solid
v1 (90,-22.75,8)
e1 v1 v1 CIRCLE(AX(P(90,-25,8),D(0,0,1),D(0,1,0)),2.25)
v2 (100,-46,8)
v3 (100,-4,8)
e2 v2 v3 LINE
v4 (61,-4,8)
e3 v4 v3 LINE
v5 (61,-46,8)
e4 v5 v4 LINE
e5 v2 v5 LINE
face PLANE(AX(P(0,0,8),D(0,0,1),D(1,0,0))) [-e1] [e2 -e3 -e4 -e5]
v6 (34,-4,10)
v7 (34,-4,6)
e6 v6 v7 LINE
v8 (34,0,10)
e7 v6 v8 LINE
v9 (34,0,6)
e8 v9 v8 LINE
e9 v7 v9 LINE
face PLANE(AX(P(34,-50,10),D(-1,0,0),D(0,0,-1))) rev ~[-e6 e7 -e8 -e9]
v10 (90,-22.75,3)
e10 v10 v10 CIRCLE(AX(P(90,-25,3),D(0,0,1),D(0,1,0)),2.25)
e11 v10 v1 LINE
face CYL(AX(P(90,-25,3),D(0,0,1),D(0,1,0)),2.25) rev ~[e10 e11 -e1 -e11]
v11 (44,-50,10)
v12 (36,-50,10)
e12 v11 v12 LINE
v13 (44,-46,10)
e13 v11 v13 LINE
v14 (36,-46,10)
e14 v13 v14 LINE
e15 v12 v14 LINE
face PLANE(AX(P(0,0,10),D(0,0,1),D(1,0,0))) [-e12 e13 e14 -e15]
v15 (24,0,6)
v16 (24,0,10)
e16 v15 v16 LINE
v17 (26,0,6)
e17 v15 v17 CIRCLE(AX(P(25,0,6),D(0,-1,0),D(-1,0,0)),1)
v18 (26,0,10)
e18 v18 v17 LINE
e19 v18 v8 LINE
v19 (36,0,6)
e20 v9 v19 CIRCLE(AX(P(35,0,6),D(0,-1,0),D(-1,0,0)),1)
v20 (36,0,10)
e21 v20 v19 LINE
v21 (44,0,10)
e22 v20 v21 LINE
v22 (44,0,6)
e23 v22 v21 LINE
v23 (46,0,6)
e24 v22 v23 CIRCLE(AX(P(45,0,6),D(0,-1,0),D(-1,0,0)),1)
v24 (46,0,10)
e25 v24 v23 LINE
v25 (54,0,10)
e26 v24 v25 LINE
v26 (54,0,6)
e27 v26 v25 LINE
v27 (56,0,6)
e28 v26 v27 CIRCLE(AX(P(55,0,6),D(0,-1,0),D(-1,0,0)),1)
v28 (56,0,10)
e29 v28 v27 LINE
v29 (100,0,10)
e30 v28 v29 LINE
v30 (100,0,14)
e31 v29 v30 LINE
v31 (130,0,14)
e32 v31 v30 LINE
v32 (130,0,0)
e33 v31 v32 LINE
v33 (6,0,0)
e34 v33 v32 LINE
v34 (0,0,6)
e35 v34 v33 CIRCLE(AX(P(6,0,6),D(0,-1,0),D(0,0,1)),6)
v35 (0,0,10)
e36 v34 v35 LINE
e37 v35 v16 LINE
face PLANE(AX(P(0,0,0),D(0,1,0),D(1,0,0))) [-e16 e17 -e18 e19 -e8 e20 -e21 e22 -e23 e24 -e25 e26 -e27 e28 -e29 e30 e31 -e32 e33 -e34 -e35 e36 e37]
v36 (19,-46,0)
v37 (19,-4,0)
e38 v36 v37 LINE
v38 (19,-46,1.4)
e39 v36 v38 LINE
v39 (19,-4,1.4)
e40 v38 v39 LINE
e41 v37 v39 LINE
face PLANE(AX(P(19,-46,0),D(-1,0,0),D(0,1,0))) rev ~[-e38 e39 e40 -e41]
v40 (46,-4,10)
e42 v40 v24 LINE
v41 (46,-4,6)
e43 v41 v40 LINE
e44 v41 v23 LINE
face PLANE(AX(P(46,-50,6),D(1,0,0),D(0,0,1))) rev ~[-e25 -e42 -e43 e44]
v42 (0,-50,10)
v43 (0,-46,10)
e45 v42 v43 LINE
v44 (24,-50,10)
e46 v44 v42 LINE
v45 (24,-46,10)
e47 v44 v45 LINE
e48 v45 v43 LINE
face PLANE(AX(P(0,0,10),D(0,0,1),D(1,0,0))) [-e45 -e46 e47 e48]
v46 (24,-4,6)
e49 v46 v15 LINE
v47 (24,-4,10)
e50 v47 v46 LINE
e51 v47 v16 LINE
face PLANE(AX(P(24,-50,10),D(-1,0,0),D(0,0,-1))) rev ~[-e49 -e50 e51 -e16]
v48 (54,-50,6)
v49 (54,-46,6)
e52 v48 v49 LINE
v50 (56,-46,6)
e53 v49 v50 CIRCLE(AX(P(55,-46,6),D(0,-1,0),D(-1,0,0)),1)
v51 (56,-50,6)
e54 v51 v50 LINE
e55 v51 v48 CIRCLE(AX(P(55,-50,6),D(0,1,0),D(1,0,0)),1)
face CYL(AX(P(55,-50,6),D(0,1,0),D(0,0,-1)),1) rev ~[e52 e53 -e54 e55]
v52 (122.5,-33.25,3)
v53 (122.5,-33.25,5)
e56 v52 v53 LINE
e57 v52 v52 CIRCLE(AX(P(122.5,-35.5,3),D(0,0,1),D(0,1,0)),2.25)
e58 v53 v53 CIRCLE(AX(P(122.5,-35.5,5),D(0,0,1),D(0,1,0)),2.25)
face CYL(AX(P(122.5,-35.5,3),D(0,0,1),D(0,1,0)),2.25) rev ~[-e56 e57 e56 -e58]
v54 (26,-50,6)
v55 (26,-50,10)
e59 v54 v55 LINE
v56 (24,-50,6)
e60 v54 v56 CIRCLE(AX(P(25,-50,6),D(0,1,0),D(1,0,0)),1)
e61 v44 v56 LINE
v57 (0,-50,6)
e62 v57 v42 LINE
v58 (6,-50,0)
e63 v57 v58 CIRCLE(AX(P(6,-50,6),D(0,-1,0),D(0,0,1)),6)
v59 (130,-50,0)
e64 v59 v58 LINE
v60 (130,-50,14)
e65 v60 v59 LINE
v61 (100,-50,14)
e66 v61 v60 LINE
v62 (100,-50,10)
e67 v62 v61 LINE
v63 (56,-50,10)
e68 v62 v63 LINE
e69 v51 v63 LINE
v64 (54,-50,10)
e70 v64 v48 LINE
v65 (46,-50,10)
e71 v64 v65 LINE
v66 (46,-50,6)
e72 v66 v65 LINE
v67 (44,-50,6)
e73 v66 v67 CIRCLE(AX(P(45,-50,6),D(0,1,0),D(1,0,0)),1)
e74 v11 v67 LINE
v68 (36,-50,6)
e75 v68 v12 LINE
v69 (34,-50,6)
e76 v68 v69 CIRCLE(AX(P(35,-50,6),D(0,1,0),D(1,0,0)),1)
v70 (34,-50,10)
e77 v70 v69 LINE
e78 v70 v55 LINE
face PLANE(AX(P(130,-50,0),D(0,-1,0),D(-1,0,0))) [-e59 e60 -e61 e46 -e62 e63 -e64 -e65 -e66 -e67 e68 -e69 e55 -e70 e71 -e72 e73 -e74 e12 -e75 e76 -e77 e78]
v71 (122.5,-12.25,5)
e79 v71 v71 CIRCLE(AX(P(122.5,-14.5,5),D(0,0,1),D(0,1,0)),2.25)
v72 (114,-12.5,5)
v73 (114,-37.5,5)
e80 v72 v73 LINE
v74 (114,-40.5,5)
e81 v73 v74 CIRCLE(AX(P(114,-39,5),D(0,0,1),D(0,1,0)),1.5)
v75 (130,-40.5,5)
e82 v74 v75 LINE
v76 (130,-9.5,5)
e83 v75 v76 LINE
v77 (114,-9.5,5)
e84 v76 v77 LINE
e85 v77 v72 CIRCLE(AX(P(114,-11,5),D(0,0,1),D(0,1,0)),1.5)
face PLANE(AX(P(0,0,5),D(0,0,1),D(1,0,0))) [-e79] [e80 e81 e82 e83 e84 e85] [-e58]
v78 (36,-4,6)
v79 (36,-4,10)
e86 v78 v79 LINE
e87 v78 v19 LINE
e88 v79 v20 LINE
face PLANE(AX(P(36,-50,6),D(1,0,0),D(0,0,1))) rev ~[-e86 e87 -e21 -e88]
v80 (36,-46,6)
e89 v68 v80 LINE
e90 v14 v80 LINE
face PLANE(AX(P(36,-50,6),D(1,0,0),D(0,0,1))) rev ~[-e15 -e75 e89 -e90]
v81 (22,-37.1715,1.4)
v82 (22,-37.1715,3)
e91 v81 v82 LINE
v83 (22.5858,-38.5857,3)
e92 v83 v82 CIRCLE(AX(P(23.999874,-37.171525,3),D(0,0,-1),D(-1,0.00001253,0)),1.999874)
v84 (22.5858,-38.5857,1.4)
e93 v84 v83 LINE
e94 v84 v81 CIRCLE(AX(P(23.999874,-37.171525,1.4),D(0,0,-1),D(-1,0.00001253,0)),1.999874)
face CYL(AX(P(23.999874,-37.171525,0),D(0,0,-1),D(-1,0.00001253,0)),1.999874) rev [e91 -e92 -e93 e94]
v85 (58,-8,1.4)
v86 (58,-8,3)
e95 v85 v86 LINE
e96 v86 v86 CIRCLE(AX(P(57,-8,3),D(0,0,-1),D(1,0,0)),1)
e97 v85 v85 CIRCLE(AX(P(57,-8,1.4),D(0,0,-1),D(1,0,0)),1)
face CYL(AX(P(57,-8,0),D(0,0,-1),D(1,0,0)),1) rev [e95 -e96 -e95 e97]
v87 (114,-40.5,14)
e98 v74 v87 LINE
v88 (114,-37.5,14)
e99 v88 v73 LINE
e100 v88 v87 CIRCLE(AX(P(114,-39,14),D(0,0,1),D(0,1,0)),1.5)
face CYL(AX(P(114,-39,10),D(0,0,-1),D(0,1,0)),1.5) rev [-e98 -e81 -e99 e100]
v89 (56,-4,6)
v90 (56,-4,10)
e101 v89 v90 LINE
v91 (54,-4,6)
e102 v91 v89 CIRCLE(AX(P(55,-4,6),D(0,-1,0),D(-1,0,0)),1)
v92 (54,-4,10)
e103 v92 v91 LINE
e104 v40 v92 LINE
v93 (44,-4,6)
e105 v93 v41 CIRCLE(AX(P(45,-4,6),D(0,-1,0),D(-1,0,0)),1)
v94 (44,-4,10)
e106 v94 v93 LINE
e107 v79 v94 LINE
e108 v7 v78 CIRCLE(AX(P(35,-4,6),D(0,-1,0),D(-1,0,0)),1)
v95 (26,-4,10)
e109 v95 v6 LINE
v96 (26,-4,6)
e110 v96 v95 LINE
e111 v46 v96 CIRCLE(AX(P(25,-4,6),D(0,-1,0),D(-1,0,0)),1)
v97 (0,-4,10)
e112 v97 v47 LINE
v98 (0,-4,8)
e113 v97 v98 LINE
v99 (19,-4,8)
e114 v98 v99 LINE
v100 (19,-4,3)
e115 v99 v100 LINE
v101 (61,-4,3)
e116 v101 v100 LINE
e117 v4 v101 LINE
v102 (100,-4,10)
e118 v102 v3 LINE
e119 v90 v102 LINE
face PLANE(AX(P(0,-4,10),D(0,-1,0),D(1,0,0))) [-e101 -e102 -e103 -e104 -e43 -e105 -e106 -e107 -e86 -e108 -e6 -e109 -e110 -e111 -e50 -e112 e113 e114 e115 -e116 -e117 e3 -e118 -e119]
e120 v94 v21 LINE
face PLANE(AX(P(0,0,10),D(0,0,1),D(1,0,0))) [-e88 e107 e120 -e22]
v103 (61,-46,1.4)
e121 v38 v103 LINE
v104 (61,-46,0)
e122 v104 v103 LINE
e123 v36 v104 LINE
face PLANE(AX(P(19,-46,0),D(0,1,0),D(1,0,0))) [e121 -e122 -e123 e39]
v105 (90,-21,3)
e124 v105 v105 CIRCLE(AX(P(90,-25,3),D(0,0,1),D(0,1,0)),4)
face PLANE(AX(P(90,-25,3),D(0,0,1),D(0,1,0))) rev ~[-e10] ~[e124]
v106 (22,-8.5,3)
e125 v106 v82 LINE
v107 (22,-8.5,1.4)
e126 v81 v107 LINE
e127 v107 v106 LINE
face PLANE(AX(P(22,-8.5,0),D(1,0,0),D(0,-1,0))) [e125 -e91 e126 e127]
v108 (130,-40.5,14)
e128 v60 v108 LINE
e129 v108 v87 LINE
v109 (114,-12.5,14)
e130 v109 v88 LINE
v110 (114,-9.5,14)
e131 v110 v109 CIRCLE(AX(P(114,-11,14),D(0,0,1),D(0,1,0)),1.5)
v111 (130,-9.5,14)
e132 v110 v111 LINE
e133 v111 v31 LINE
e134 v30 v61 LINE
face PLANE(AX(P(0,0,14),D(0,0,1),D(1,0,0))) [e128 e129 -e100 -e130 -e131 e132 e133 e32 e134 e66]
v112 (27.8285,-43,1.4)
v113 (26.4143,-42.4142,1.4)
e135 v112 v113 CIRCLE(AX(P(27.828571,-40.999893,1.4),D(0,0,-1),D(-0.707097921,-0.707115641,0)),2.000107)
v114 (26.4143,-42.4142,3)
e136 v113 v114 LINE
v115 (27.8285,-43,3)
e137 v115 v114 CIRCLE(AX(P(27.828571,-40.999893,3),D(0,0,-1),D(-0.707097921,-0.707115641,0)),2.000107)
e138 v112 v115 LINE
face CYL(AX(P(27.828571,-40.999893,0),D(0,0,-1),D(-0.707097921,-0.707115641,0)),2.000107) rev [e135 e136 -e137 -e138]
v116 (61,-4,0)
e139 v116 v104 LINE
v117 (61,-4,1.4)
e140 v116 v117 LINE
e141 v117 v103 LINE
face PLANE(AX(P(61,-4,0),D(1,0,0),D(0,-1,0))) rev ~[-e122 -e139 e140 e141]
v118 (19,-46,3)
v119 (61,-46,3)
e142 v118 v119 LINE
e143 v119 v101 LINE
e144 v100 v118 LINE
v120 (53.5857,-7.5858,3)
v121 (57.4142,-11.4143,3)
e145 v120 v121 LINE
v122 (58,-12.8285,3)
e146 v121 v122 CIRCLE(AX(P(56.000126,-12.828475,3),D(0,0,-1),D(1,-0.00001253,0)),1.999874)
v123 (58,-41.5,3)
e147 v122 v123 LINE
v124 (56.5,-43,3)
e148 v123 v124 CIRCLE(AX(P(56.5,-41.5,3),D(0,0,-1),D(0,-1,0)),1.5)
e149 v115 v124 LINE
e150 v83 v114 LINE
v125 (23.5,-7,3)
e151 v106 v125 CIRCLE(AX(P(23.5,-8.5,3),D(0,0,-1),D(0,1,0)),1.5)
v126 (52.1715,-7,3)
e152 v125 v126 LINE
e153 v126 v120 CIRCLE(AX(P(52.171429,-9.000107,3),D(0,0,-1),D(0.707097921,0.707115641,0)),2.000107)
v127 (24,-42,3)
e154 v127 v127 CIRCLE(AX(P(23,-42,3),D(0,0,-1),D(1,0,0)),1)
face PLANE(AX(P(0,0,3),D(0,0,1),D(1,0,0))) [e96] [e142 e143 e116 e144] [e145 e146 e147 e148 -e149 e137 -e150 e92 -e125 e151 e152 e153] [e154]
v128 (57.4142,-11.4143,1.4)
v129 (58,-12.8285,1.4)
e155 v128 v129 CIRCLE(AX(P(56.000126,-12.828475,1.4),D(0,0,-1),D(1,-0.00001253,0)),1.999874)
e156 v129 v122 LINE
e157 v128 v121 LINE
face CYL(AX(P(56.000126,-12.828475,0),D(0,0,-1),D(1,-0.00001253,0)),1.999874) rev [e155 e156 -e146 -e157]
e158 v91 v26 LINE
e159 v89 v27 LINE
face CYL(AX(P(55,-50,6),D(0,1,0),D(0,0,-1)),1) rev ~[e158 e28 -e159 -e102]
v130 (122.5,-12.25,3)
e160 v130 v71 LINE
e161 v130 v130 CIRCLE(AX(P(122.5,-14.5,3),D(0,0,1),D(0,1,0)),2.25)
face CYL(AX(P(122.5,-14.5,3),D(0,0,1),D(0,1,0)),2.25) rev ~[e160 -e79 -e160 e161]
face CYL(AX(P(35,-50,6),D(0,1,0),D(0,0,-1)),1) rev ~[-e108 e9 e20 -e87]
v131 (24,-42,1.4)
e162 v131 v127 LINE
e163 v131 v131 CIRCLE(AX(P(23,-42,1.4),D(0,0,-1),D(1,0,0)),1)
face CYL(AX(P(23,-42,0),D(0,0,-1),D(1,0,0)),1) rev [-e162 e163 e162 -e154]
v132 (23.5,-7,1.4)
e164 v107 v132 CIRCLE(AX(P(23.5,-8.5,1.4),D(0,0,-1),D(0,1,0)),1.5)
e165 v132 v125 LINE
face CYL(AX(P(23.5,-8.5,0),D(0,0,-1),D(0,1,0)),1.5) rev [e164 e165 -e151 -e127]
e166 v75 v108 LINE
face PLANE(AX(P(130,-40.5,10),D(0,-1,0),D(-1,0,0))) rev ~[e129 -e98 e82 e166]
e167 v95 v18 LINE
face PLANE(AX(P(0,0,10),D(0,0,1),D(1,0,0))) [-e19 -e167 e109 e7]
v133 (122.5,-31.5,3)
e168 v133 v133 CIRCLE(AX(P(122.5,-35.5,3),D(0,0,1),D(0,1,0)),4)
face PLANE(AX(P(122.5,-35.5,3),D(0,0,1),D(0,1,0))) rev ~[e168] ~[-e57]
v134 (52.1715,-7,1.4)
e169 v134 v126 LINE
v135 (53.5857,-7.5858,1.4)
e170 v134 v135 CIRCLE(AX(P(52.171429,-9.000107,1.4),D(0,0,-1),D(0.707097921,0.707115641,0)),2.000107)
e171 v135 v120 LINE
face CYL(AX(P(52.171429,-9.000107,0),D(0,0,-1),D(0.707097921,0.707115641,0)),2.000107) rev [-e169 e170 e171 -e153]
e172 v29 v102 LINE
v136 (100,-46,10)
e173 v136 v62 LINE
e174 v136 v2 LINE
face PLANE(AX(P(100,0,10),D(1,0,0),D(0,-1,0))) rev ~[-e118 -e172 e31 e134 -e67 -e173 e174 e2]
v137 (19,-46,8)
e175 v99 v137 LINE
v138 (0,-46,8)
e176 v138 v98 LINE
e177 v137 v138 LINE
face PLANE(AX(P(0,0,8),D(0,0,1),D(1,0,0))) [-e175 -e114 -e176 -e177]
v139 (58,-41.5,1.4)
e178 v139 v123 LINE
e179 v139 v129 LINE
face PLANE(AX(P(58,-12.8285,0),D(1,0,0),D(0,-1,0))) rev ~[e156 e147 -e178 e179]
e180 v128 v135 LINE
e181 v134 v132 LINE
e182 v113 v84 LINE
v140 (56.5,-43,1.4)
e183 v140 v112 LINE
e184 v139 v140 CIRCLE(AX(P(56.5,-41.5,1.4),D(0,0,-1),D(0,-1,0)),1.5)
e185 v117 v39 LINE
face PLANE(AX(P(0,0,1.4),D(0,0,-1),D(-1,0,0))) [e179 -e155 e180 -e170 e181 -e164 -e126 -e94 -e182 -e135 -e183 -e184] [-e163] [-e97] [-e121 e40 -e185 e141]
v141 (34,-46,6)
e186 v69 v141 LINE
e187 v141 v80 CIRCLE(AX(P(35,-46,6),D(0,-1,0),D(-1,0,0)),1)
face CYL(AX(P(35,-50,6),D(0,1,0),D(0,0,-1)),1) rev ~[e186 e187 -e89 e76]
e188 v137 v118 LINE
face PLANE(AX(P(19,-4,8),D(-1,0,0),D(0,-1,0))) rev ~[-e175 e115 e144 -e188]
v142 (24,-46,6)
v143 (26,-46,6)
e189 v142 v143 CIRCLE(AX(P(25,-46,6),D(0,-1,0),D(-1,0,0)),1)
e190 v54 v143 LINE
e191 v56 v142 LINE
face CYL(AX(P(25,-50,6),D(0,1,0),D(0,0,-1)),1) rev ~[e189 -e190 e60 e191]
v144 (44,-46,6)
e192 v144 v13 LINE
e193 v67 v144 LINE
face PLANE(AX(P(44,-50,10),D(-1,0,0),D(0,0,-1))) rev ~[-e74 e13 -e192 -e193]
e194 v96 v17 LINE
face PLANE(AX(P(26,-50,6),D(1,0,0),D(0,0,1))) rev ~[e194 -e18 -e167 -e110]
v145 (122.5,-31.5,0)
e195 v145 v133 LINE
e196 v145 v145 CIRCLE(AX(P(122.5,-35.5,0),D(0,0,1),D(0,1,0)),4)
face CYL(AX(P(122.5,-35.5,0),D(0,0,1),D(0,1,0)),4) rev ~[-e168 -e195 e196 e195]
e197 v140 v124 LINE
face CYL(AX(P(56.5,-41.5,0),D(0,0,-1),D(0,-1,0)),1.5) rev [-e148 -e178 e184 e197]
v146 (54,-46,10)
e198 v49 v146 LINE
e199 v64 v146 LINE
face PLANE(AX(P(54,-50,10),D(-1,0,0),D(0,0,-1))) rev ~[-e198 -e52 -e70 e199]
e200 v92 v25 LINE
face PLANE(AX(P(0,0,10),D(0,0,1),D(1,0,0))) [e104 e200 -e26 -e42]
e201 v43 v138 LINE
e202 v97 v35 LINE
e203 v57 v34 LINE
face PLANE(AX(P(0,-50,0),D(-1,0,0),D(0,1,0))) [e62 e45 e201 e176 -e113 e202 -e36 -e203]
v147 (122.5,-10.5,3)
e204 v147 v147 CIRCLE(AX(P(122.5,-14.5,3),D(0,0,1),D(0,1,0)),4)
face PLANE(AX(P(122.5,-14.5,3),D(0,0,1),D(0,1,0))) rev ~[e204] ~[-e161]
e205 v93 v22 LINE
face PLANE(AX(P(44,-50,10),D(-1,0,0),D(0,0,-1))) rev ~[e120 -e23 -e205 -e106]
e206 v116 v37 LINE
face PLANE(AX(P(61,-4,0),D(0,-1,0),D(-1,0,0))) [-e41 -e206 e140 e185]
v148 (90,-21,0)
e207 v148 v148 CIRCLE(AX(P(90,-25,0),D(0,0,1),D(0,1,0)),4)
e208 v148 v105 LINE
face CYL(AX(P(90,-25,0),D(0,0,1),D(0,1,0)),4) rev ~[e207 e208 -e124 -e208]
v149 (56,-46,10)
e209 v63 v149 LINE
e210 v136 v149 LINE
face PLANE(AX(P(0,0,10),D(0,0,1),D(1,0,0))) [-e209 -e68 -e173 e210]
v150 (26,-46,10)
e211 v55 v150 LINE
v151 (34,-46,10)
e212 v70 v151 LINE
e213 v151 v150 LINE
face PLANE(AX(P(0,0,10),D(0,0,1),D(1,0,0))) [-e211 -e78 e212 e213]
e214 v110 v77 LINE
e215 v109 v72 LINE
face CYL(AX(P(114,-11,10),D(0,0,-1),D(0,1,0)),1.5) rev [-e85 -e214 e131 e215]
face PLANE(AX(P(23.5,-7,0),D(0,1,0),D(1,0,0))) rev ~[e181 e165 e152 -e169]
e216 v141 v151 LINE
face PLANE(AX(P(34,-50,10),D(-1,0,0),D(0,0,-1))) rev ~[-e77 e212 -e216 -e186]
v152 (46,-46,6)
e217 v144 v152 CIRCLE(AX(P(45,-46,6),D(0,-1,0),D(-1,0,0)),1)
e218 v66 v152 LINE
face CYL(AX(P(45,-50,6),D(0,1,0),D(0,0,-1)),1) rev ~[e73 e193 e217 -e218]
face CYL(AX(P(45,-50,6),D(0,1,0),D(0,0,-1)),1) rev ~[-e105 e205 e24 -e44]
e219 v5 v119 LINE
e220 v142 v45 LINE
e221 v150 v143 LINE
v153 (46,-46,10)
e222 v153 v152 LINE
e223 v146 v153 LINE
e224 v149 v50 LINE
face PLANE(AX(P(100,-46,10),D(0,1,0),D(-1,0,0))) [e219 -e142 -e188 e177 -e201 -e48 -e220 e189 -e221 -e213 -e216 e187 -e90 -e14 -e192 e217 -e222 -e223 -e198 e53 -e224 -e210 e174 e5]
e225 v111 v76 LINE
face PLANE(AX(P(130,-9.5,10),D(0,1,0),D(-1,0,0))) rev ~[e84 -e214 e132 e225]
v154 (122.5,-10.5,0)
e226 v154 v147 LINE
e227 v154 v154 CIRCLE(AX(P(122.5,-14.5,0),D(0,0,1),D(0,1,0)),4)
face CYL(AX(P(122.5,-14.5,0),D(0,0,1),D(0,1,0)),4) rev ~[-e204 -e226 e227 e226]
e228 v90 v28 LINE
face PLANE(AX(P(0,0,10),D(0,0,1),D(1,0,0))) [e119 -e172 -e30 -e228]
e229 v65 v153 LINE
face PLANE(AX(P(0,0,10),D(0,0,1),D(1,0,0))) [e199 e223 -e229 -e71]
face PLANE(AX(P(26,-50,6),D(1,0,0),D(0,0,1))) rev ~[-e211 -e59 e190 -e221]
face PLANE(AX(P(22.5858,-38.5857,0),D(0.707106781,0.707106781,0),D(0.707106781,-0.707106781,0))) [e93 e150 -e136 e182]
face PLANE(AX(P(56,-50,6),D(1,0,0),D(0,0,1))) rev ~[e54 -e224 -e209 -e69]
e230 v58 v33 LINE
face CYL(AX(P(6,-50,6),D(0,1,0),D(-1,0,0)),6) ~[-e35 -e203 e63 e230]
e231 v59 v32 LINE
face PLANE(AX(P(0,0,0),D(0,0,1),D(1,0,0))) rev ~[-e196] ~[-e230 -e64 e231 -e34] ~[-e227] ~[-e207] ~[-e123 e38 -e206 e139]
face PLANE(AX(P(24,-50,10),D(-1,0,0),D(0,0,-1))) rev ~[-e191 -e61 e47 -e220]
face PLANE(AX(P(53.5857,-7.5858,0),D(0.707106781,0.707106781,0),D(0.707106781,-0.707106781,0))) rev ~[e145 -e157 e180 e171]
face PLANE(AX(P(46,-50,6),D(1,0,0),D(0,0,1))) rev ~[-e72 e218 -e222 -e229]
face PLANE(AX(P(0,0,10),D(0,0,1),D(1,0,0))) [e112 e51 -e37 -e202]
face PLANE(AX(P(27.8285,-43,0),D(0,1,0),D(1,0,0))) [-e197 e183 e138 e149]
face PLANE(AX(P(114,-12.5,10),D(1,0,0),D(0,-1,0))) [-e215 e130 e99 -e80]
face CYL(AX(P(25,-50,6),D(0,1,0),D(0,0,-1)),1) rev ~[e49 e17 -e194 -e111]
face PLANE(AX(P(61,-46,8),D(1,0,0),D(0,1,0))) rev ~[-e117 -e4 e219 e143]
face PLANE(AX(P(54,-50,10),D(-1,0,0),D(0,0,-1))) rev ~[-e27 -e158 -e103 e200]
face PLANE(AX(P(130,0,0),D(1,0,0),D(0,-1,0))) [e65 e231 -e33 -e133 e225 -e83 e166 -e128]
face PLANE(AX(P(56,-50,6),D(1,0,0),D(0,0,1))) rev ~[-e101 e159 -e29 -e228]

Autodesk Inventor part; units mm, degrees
ref_plane "YZ Plane" through (0, 0, 0) normal (1, 0, 0) x (0, 1, 0)
ref_plane "XZ Plane" through (0, 0, 0) normal (0, 1, 0) x (-1, 0, 0)
ref_plane "XY Plane" through (0, 0, 0) normal (0, 0, 1) x (1, 0, 0)
sketch "unten" plane through (0, 0, 0) normal (0, 0, 1) x (1, 0, 0)
  line L0 (0, 0) -> (130, 0)
  line L1 (130, 0) -> (130, -50)
  line L2 (130, -50) -> (0, -50)
  line L3 (0, -50) -> (0, 0)
  line L4 (23.5, -7) -> (52.1715, -7)
  line L5 (58, -12.8285) -> (58, -41.5)
  line L6 (27.8285, -43) -> (56.5, -43)
  line L7 (22, -8.5) -> (22, -37.1715)
  arc A0 (23.5, -7) -> (22, -8.5) centre (23.5, -8.5) ccw
  circle A1 centre (23, -42) radius 1
  circle A2 centre (57, -8) radius 1
  arc A3 (56.5, -43) -> (58, -41.5) centre (56.5, -41.5) ccw
  line L8 (61.9906, -8.5458) -> (71.0184, -8.5458) construction
  line L9 (53.5857, -7.5858) -> (57.4142, -11.4143)
  line L10 (57.2091, -11.2092) -> (62.6234, -11.2092) construction
  arc A4 (58, -12.8285) -> (57.4142, -11.4143) centre (56, -12.8285) ccw
  arc A5 (53.5857, -7.5858) -> (52.1715, -7) centre (52.1715, -9) ccw
  line L11 (22.5858, -38.5857) -> (26.4143, -42.4142)
  line L12 (26.3083, -42.3082) -> (31.7226, -42.3082) construction
  arc A6 (22, -37.1715) -> (22.5858, -38.5857) centre (24, -37.1715) ccw
  arc A7 (26.4143, -42.4142) -> (27.8285, -43) centre (27.8285, -41) ccw
  line L13 (130, -9.5) -> (130, -40.5)
  line L14 (130, -50) -> (130, 0)
  line L15 (130, 0) -> (130, -50)
  point P0 (33.5, -8.5)
  dimension "d0" = 130
  dimension "d1" = 50
  dimension "d15" = 1.5
  dimension "d18" = 2
  dimension "d21" = 2
  dimension "d24" = 1.5
  dimension "d29" = 45
  dimension "d31" = 2
  dimension "d32" = 45
  dimension "d34" = 2
  dimension "d51" = 7
  dimension "d52" = 7
  dimension "d53" = 36
  dimension "d55" = 8
  dimension "d56" = 1
  dimension "d57" = 1
  dimension "d58" = 1
  dimension "d59" = 2.1214
  dimension "d60" = 22
  dimension "d61" = 1.5
  dimension "d62" = 1.5
  dimension "d63" = 2.1214
  dimension "d64" = 1.5
  dimension "d65" = 1.5
extrude "Extrusion1" add sketch "unten" along normal blind 10
sketch "Sketch2" plane through (0, 0, 10) normal (0, 0, 1) x (1, 0, 0)
  line L0 (114, -9.5) -> (130, -9.5)
  line L1 (130, -50) -> (130, 0) projected
  line L2 (130, 0) -> (0, 0) projected
  line L3 (130, -9.5) -> (130, 0)
  line L4 (130, 0) -> (0, 0) projected
  line L5 (130, 0) -> (100, 0)
  line L6 (100, 0) -> (100, -50)
  line L7 (0, -50) -> (130, -50) projected
  line L8 (130, -50) -> (130, -40.5)
  line L9 (130, -40.5) -> (114, -40.5)
  line L10 (114, -12.5) -> (114, -37.5)
  arc A0 (114, -9.5) -> (114, -12.5) centre (114, -11) ccw
  arc A1 (114, -37.5) -> (114, -40.5) centre (114, -39) ccw
  dimension "d69" = 16
  dimension "d70" = 9.5
  dimension "d71" = 30
  dimension "d72" = 9.5
  dimension "d73" = 16
  dimension "d74" = 16
  dimension "d75" = 16
  dimension "d77" = 1.5
  dimension "d78" = 3
  dimension "d80" = 1.5
extrude "Extrusion2" add sketch "Sketch2" along normal blind 4 contours A0 L10 A1 L9 L1 L7 L6 L2 L0
sketch "Sketch3" plane through (0, 0, 10) normal (0, 0, 1) x (1, 0, 0)
  line L0 (100, -50) -> (100, 0) projected
  line L1 (0, -4) -> (100, -4)
  line L2 (100, -4) -> (100, -46)
  line L3 (100, -46) -> (0, -46)
  line L4 (0, -46) -> (0, -4)
  line L5 (100, 0) -> (0, 0) projected
  line L6 (0, -50) -> (100, -50) projected
  dimension "d83" = 4
  dimension "d84" = 4
extrude "Extrusion3" cut sketch "Sketch3" against normal blind 2
sketch "Sketch4" plane through (0, 0, 8) normal (0, 0, 1) x (1, 0, 0)
  line L0 (61, -4) -> (19, -4)
  line L1 (19, -4) -> (19, -46)
  line L2 (19, -46) -> (61, -46)
  line L3 (61, -46) -> (61, -4)
  line L4 (22, -8.5) -> (22, -37.1715) projected
  line L5 (27.8285, -43) -> (56.5, -43) projected
  point P0 (0, 0)
  dimension "d87" = 42
  dimension "d88" = 42
  dimension "d89" = 3
  dimension "d90" = 3
extrude "Extrusion4" cut sketch "Sketch4" against normal blind 5
sketch "Sketch5" plane through (0, 0, 0) normal (0, 0, -1) x (-1, 0, 0)
  line L0 (-19, -46) -> (-19, -4) projected
  line L1 (-61, -4) -> (-61, -46) projected
  line L2 (-19, -46) -> (-61, -46)
  line L3 (-61, -46) -> (-61, -4)
  line L4 (-61, -4) -> (-19, -4)
  line L5 (-19, -4) -> (-19, -46)
  point P0 (0, 0)
extrude "Extrusion5" cut sketch "Sketch5" against normal blind 1.4
fillet "Fillet1" radius 6 1 edges at (0, -25, 0)
sketch "Sketch6" plane through (0, 0, 0) normal (0, 0, -1) x (-1, 0, 0)
  line L0 (-6, -50) -> (-130, -50) projected
  line L1 (-130, 0) -> (-6, 0) projected
  line L2 (-130, -50) -> (-130, 0) projected
  point P0 (0, 0)
  point P1 (-122.5, -35.5)
  point P2 (-122.5, -14.5)
  dimension "d96" = 14.5
  dimension "d97" = 14.5
  dimension "d98" = 7.5
  dimension "d99" = 7.5
hole "Hole1" at (122.5, -35.5, 0) at (122.5, -14.5, 0) direction (0, 0, 1) diameter 4.5 end through all counterbore diameter 8 counterbore depth 3
sketch "Sketch7" plane through (0, 0, 0) normal (0, 0, -1) x (-1, 0, 0)
  line L0 (-130, 0) -> (-6, 0) projected
  line L1 (-100, -4) -> (-100, -46) projected
  point P0 (0, 0)
  point P1 (-90, -25)
  dimension "d119" = 25
  dimension "d120" = 10
hole "Hole2" at (90, -25, 0) direction (0, 0, 1) diameter 4.5 end through all counterbore diameter 8 counterbore depth 3
hole "Hole4" at (25, -50, 6) direction (0, 1, 0) diameter 2 end through all
pattern_linear "Rectangular Pattern1" count 4 spacing 10 along (1, 0, 0) of "Hole4"
sketch "Sketch10" plane through (0, 0, 10) normal (0, 0, 1) x (1, 0, 0)
  line L0 (130, -9.5) -> (114, -9.5) projected
  line L1 (130, -9.5) -> (114, -9.5)
  arc A0 (114, -9.5) -> (114, -12.5) centre (114, -11) ccw projected
  arc A1 (114, -12.5) -> (114, -12.5) centre (114, -11) ccw
  arc A2 (114, -37.5) -> (114, -40.5) centre (114, -39) ccw projected
  line L2 (114, -12.5) -> (114, -37.5)
  arc A3 (114, -37.5) -> (114, -40.5) centre (114, -39) ccw
  line L3 (114, -40.5) -> (130, -40.5) projected
  line L4 (114, -40.5) -> (130, -40.5)
  line L5 (130, -50) -> (130, 0) projected
  line L6 (130, -40.5) -> (130, -9.5) projected
  line L7 (130, -9.5) -> (130, -40.5)
  point P0 (0, 0)
extrude "Extrusion6" cut sketch "Sketch10" against normal blind 5
sketch "Sketch11" plane through (0, -50, 10) normal (0, -1, 0) x (1, 0, 0)
  circle A0 centre (25, -4) radius 1 projected
  line L0 (100, 0) -> (0, 0) projected
  line L1 (24, -4) -> (26, -4)
  line L2 (26, -4) -> (26, 0)
  line L3 (26, 0) -> (24, 0)
  line L4 (24, 0) -> (24, -4)
  point P0 (0, -10)
extrude "Extrusion7" cut sketch "Sketch11" against normal through all contours L1 A0 | A0 L4 L0 L2 picked at (25.0402, -3.6691)
pattern_linear "Rectangular Pattern2" count 4 spacing 10 along (1, 0, 0) of "Extrusion7"
properties part number "TNS_Greiferbacke_MA_Jun_T1"
